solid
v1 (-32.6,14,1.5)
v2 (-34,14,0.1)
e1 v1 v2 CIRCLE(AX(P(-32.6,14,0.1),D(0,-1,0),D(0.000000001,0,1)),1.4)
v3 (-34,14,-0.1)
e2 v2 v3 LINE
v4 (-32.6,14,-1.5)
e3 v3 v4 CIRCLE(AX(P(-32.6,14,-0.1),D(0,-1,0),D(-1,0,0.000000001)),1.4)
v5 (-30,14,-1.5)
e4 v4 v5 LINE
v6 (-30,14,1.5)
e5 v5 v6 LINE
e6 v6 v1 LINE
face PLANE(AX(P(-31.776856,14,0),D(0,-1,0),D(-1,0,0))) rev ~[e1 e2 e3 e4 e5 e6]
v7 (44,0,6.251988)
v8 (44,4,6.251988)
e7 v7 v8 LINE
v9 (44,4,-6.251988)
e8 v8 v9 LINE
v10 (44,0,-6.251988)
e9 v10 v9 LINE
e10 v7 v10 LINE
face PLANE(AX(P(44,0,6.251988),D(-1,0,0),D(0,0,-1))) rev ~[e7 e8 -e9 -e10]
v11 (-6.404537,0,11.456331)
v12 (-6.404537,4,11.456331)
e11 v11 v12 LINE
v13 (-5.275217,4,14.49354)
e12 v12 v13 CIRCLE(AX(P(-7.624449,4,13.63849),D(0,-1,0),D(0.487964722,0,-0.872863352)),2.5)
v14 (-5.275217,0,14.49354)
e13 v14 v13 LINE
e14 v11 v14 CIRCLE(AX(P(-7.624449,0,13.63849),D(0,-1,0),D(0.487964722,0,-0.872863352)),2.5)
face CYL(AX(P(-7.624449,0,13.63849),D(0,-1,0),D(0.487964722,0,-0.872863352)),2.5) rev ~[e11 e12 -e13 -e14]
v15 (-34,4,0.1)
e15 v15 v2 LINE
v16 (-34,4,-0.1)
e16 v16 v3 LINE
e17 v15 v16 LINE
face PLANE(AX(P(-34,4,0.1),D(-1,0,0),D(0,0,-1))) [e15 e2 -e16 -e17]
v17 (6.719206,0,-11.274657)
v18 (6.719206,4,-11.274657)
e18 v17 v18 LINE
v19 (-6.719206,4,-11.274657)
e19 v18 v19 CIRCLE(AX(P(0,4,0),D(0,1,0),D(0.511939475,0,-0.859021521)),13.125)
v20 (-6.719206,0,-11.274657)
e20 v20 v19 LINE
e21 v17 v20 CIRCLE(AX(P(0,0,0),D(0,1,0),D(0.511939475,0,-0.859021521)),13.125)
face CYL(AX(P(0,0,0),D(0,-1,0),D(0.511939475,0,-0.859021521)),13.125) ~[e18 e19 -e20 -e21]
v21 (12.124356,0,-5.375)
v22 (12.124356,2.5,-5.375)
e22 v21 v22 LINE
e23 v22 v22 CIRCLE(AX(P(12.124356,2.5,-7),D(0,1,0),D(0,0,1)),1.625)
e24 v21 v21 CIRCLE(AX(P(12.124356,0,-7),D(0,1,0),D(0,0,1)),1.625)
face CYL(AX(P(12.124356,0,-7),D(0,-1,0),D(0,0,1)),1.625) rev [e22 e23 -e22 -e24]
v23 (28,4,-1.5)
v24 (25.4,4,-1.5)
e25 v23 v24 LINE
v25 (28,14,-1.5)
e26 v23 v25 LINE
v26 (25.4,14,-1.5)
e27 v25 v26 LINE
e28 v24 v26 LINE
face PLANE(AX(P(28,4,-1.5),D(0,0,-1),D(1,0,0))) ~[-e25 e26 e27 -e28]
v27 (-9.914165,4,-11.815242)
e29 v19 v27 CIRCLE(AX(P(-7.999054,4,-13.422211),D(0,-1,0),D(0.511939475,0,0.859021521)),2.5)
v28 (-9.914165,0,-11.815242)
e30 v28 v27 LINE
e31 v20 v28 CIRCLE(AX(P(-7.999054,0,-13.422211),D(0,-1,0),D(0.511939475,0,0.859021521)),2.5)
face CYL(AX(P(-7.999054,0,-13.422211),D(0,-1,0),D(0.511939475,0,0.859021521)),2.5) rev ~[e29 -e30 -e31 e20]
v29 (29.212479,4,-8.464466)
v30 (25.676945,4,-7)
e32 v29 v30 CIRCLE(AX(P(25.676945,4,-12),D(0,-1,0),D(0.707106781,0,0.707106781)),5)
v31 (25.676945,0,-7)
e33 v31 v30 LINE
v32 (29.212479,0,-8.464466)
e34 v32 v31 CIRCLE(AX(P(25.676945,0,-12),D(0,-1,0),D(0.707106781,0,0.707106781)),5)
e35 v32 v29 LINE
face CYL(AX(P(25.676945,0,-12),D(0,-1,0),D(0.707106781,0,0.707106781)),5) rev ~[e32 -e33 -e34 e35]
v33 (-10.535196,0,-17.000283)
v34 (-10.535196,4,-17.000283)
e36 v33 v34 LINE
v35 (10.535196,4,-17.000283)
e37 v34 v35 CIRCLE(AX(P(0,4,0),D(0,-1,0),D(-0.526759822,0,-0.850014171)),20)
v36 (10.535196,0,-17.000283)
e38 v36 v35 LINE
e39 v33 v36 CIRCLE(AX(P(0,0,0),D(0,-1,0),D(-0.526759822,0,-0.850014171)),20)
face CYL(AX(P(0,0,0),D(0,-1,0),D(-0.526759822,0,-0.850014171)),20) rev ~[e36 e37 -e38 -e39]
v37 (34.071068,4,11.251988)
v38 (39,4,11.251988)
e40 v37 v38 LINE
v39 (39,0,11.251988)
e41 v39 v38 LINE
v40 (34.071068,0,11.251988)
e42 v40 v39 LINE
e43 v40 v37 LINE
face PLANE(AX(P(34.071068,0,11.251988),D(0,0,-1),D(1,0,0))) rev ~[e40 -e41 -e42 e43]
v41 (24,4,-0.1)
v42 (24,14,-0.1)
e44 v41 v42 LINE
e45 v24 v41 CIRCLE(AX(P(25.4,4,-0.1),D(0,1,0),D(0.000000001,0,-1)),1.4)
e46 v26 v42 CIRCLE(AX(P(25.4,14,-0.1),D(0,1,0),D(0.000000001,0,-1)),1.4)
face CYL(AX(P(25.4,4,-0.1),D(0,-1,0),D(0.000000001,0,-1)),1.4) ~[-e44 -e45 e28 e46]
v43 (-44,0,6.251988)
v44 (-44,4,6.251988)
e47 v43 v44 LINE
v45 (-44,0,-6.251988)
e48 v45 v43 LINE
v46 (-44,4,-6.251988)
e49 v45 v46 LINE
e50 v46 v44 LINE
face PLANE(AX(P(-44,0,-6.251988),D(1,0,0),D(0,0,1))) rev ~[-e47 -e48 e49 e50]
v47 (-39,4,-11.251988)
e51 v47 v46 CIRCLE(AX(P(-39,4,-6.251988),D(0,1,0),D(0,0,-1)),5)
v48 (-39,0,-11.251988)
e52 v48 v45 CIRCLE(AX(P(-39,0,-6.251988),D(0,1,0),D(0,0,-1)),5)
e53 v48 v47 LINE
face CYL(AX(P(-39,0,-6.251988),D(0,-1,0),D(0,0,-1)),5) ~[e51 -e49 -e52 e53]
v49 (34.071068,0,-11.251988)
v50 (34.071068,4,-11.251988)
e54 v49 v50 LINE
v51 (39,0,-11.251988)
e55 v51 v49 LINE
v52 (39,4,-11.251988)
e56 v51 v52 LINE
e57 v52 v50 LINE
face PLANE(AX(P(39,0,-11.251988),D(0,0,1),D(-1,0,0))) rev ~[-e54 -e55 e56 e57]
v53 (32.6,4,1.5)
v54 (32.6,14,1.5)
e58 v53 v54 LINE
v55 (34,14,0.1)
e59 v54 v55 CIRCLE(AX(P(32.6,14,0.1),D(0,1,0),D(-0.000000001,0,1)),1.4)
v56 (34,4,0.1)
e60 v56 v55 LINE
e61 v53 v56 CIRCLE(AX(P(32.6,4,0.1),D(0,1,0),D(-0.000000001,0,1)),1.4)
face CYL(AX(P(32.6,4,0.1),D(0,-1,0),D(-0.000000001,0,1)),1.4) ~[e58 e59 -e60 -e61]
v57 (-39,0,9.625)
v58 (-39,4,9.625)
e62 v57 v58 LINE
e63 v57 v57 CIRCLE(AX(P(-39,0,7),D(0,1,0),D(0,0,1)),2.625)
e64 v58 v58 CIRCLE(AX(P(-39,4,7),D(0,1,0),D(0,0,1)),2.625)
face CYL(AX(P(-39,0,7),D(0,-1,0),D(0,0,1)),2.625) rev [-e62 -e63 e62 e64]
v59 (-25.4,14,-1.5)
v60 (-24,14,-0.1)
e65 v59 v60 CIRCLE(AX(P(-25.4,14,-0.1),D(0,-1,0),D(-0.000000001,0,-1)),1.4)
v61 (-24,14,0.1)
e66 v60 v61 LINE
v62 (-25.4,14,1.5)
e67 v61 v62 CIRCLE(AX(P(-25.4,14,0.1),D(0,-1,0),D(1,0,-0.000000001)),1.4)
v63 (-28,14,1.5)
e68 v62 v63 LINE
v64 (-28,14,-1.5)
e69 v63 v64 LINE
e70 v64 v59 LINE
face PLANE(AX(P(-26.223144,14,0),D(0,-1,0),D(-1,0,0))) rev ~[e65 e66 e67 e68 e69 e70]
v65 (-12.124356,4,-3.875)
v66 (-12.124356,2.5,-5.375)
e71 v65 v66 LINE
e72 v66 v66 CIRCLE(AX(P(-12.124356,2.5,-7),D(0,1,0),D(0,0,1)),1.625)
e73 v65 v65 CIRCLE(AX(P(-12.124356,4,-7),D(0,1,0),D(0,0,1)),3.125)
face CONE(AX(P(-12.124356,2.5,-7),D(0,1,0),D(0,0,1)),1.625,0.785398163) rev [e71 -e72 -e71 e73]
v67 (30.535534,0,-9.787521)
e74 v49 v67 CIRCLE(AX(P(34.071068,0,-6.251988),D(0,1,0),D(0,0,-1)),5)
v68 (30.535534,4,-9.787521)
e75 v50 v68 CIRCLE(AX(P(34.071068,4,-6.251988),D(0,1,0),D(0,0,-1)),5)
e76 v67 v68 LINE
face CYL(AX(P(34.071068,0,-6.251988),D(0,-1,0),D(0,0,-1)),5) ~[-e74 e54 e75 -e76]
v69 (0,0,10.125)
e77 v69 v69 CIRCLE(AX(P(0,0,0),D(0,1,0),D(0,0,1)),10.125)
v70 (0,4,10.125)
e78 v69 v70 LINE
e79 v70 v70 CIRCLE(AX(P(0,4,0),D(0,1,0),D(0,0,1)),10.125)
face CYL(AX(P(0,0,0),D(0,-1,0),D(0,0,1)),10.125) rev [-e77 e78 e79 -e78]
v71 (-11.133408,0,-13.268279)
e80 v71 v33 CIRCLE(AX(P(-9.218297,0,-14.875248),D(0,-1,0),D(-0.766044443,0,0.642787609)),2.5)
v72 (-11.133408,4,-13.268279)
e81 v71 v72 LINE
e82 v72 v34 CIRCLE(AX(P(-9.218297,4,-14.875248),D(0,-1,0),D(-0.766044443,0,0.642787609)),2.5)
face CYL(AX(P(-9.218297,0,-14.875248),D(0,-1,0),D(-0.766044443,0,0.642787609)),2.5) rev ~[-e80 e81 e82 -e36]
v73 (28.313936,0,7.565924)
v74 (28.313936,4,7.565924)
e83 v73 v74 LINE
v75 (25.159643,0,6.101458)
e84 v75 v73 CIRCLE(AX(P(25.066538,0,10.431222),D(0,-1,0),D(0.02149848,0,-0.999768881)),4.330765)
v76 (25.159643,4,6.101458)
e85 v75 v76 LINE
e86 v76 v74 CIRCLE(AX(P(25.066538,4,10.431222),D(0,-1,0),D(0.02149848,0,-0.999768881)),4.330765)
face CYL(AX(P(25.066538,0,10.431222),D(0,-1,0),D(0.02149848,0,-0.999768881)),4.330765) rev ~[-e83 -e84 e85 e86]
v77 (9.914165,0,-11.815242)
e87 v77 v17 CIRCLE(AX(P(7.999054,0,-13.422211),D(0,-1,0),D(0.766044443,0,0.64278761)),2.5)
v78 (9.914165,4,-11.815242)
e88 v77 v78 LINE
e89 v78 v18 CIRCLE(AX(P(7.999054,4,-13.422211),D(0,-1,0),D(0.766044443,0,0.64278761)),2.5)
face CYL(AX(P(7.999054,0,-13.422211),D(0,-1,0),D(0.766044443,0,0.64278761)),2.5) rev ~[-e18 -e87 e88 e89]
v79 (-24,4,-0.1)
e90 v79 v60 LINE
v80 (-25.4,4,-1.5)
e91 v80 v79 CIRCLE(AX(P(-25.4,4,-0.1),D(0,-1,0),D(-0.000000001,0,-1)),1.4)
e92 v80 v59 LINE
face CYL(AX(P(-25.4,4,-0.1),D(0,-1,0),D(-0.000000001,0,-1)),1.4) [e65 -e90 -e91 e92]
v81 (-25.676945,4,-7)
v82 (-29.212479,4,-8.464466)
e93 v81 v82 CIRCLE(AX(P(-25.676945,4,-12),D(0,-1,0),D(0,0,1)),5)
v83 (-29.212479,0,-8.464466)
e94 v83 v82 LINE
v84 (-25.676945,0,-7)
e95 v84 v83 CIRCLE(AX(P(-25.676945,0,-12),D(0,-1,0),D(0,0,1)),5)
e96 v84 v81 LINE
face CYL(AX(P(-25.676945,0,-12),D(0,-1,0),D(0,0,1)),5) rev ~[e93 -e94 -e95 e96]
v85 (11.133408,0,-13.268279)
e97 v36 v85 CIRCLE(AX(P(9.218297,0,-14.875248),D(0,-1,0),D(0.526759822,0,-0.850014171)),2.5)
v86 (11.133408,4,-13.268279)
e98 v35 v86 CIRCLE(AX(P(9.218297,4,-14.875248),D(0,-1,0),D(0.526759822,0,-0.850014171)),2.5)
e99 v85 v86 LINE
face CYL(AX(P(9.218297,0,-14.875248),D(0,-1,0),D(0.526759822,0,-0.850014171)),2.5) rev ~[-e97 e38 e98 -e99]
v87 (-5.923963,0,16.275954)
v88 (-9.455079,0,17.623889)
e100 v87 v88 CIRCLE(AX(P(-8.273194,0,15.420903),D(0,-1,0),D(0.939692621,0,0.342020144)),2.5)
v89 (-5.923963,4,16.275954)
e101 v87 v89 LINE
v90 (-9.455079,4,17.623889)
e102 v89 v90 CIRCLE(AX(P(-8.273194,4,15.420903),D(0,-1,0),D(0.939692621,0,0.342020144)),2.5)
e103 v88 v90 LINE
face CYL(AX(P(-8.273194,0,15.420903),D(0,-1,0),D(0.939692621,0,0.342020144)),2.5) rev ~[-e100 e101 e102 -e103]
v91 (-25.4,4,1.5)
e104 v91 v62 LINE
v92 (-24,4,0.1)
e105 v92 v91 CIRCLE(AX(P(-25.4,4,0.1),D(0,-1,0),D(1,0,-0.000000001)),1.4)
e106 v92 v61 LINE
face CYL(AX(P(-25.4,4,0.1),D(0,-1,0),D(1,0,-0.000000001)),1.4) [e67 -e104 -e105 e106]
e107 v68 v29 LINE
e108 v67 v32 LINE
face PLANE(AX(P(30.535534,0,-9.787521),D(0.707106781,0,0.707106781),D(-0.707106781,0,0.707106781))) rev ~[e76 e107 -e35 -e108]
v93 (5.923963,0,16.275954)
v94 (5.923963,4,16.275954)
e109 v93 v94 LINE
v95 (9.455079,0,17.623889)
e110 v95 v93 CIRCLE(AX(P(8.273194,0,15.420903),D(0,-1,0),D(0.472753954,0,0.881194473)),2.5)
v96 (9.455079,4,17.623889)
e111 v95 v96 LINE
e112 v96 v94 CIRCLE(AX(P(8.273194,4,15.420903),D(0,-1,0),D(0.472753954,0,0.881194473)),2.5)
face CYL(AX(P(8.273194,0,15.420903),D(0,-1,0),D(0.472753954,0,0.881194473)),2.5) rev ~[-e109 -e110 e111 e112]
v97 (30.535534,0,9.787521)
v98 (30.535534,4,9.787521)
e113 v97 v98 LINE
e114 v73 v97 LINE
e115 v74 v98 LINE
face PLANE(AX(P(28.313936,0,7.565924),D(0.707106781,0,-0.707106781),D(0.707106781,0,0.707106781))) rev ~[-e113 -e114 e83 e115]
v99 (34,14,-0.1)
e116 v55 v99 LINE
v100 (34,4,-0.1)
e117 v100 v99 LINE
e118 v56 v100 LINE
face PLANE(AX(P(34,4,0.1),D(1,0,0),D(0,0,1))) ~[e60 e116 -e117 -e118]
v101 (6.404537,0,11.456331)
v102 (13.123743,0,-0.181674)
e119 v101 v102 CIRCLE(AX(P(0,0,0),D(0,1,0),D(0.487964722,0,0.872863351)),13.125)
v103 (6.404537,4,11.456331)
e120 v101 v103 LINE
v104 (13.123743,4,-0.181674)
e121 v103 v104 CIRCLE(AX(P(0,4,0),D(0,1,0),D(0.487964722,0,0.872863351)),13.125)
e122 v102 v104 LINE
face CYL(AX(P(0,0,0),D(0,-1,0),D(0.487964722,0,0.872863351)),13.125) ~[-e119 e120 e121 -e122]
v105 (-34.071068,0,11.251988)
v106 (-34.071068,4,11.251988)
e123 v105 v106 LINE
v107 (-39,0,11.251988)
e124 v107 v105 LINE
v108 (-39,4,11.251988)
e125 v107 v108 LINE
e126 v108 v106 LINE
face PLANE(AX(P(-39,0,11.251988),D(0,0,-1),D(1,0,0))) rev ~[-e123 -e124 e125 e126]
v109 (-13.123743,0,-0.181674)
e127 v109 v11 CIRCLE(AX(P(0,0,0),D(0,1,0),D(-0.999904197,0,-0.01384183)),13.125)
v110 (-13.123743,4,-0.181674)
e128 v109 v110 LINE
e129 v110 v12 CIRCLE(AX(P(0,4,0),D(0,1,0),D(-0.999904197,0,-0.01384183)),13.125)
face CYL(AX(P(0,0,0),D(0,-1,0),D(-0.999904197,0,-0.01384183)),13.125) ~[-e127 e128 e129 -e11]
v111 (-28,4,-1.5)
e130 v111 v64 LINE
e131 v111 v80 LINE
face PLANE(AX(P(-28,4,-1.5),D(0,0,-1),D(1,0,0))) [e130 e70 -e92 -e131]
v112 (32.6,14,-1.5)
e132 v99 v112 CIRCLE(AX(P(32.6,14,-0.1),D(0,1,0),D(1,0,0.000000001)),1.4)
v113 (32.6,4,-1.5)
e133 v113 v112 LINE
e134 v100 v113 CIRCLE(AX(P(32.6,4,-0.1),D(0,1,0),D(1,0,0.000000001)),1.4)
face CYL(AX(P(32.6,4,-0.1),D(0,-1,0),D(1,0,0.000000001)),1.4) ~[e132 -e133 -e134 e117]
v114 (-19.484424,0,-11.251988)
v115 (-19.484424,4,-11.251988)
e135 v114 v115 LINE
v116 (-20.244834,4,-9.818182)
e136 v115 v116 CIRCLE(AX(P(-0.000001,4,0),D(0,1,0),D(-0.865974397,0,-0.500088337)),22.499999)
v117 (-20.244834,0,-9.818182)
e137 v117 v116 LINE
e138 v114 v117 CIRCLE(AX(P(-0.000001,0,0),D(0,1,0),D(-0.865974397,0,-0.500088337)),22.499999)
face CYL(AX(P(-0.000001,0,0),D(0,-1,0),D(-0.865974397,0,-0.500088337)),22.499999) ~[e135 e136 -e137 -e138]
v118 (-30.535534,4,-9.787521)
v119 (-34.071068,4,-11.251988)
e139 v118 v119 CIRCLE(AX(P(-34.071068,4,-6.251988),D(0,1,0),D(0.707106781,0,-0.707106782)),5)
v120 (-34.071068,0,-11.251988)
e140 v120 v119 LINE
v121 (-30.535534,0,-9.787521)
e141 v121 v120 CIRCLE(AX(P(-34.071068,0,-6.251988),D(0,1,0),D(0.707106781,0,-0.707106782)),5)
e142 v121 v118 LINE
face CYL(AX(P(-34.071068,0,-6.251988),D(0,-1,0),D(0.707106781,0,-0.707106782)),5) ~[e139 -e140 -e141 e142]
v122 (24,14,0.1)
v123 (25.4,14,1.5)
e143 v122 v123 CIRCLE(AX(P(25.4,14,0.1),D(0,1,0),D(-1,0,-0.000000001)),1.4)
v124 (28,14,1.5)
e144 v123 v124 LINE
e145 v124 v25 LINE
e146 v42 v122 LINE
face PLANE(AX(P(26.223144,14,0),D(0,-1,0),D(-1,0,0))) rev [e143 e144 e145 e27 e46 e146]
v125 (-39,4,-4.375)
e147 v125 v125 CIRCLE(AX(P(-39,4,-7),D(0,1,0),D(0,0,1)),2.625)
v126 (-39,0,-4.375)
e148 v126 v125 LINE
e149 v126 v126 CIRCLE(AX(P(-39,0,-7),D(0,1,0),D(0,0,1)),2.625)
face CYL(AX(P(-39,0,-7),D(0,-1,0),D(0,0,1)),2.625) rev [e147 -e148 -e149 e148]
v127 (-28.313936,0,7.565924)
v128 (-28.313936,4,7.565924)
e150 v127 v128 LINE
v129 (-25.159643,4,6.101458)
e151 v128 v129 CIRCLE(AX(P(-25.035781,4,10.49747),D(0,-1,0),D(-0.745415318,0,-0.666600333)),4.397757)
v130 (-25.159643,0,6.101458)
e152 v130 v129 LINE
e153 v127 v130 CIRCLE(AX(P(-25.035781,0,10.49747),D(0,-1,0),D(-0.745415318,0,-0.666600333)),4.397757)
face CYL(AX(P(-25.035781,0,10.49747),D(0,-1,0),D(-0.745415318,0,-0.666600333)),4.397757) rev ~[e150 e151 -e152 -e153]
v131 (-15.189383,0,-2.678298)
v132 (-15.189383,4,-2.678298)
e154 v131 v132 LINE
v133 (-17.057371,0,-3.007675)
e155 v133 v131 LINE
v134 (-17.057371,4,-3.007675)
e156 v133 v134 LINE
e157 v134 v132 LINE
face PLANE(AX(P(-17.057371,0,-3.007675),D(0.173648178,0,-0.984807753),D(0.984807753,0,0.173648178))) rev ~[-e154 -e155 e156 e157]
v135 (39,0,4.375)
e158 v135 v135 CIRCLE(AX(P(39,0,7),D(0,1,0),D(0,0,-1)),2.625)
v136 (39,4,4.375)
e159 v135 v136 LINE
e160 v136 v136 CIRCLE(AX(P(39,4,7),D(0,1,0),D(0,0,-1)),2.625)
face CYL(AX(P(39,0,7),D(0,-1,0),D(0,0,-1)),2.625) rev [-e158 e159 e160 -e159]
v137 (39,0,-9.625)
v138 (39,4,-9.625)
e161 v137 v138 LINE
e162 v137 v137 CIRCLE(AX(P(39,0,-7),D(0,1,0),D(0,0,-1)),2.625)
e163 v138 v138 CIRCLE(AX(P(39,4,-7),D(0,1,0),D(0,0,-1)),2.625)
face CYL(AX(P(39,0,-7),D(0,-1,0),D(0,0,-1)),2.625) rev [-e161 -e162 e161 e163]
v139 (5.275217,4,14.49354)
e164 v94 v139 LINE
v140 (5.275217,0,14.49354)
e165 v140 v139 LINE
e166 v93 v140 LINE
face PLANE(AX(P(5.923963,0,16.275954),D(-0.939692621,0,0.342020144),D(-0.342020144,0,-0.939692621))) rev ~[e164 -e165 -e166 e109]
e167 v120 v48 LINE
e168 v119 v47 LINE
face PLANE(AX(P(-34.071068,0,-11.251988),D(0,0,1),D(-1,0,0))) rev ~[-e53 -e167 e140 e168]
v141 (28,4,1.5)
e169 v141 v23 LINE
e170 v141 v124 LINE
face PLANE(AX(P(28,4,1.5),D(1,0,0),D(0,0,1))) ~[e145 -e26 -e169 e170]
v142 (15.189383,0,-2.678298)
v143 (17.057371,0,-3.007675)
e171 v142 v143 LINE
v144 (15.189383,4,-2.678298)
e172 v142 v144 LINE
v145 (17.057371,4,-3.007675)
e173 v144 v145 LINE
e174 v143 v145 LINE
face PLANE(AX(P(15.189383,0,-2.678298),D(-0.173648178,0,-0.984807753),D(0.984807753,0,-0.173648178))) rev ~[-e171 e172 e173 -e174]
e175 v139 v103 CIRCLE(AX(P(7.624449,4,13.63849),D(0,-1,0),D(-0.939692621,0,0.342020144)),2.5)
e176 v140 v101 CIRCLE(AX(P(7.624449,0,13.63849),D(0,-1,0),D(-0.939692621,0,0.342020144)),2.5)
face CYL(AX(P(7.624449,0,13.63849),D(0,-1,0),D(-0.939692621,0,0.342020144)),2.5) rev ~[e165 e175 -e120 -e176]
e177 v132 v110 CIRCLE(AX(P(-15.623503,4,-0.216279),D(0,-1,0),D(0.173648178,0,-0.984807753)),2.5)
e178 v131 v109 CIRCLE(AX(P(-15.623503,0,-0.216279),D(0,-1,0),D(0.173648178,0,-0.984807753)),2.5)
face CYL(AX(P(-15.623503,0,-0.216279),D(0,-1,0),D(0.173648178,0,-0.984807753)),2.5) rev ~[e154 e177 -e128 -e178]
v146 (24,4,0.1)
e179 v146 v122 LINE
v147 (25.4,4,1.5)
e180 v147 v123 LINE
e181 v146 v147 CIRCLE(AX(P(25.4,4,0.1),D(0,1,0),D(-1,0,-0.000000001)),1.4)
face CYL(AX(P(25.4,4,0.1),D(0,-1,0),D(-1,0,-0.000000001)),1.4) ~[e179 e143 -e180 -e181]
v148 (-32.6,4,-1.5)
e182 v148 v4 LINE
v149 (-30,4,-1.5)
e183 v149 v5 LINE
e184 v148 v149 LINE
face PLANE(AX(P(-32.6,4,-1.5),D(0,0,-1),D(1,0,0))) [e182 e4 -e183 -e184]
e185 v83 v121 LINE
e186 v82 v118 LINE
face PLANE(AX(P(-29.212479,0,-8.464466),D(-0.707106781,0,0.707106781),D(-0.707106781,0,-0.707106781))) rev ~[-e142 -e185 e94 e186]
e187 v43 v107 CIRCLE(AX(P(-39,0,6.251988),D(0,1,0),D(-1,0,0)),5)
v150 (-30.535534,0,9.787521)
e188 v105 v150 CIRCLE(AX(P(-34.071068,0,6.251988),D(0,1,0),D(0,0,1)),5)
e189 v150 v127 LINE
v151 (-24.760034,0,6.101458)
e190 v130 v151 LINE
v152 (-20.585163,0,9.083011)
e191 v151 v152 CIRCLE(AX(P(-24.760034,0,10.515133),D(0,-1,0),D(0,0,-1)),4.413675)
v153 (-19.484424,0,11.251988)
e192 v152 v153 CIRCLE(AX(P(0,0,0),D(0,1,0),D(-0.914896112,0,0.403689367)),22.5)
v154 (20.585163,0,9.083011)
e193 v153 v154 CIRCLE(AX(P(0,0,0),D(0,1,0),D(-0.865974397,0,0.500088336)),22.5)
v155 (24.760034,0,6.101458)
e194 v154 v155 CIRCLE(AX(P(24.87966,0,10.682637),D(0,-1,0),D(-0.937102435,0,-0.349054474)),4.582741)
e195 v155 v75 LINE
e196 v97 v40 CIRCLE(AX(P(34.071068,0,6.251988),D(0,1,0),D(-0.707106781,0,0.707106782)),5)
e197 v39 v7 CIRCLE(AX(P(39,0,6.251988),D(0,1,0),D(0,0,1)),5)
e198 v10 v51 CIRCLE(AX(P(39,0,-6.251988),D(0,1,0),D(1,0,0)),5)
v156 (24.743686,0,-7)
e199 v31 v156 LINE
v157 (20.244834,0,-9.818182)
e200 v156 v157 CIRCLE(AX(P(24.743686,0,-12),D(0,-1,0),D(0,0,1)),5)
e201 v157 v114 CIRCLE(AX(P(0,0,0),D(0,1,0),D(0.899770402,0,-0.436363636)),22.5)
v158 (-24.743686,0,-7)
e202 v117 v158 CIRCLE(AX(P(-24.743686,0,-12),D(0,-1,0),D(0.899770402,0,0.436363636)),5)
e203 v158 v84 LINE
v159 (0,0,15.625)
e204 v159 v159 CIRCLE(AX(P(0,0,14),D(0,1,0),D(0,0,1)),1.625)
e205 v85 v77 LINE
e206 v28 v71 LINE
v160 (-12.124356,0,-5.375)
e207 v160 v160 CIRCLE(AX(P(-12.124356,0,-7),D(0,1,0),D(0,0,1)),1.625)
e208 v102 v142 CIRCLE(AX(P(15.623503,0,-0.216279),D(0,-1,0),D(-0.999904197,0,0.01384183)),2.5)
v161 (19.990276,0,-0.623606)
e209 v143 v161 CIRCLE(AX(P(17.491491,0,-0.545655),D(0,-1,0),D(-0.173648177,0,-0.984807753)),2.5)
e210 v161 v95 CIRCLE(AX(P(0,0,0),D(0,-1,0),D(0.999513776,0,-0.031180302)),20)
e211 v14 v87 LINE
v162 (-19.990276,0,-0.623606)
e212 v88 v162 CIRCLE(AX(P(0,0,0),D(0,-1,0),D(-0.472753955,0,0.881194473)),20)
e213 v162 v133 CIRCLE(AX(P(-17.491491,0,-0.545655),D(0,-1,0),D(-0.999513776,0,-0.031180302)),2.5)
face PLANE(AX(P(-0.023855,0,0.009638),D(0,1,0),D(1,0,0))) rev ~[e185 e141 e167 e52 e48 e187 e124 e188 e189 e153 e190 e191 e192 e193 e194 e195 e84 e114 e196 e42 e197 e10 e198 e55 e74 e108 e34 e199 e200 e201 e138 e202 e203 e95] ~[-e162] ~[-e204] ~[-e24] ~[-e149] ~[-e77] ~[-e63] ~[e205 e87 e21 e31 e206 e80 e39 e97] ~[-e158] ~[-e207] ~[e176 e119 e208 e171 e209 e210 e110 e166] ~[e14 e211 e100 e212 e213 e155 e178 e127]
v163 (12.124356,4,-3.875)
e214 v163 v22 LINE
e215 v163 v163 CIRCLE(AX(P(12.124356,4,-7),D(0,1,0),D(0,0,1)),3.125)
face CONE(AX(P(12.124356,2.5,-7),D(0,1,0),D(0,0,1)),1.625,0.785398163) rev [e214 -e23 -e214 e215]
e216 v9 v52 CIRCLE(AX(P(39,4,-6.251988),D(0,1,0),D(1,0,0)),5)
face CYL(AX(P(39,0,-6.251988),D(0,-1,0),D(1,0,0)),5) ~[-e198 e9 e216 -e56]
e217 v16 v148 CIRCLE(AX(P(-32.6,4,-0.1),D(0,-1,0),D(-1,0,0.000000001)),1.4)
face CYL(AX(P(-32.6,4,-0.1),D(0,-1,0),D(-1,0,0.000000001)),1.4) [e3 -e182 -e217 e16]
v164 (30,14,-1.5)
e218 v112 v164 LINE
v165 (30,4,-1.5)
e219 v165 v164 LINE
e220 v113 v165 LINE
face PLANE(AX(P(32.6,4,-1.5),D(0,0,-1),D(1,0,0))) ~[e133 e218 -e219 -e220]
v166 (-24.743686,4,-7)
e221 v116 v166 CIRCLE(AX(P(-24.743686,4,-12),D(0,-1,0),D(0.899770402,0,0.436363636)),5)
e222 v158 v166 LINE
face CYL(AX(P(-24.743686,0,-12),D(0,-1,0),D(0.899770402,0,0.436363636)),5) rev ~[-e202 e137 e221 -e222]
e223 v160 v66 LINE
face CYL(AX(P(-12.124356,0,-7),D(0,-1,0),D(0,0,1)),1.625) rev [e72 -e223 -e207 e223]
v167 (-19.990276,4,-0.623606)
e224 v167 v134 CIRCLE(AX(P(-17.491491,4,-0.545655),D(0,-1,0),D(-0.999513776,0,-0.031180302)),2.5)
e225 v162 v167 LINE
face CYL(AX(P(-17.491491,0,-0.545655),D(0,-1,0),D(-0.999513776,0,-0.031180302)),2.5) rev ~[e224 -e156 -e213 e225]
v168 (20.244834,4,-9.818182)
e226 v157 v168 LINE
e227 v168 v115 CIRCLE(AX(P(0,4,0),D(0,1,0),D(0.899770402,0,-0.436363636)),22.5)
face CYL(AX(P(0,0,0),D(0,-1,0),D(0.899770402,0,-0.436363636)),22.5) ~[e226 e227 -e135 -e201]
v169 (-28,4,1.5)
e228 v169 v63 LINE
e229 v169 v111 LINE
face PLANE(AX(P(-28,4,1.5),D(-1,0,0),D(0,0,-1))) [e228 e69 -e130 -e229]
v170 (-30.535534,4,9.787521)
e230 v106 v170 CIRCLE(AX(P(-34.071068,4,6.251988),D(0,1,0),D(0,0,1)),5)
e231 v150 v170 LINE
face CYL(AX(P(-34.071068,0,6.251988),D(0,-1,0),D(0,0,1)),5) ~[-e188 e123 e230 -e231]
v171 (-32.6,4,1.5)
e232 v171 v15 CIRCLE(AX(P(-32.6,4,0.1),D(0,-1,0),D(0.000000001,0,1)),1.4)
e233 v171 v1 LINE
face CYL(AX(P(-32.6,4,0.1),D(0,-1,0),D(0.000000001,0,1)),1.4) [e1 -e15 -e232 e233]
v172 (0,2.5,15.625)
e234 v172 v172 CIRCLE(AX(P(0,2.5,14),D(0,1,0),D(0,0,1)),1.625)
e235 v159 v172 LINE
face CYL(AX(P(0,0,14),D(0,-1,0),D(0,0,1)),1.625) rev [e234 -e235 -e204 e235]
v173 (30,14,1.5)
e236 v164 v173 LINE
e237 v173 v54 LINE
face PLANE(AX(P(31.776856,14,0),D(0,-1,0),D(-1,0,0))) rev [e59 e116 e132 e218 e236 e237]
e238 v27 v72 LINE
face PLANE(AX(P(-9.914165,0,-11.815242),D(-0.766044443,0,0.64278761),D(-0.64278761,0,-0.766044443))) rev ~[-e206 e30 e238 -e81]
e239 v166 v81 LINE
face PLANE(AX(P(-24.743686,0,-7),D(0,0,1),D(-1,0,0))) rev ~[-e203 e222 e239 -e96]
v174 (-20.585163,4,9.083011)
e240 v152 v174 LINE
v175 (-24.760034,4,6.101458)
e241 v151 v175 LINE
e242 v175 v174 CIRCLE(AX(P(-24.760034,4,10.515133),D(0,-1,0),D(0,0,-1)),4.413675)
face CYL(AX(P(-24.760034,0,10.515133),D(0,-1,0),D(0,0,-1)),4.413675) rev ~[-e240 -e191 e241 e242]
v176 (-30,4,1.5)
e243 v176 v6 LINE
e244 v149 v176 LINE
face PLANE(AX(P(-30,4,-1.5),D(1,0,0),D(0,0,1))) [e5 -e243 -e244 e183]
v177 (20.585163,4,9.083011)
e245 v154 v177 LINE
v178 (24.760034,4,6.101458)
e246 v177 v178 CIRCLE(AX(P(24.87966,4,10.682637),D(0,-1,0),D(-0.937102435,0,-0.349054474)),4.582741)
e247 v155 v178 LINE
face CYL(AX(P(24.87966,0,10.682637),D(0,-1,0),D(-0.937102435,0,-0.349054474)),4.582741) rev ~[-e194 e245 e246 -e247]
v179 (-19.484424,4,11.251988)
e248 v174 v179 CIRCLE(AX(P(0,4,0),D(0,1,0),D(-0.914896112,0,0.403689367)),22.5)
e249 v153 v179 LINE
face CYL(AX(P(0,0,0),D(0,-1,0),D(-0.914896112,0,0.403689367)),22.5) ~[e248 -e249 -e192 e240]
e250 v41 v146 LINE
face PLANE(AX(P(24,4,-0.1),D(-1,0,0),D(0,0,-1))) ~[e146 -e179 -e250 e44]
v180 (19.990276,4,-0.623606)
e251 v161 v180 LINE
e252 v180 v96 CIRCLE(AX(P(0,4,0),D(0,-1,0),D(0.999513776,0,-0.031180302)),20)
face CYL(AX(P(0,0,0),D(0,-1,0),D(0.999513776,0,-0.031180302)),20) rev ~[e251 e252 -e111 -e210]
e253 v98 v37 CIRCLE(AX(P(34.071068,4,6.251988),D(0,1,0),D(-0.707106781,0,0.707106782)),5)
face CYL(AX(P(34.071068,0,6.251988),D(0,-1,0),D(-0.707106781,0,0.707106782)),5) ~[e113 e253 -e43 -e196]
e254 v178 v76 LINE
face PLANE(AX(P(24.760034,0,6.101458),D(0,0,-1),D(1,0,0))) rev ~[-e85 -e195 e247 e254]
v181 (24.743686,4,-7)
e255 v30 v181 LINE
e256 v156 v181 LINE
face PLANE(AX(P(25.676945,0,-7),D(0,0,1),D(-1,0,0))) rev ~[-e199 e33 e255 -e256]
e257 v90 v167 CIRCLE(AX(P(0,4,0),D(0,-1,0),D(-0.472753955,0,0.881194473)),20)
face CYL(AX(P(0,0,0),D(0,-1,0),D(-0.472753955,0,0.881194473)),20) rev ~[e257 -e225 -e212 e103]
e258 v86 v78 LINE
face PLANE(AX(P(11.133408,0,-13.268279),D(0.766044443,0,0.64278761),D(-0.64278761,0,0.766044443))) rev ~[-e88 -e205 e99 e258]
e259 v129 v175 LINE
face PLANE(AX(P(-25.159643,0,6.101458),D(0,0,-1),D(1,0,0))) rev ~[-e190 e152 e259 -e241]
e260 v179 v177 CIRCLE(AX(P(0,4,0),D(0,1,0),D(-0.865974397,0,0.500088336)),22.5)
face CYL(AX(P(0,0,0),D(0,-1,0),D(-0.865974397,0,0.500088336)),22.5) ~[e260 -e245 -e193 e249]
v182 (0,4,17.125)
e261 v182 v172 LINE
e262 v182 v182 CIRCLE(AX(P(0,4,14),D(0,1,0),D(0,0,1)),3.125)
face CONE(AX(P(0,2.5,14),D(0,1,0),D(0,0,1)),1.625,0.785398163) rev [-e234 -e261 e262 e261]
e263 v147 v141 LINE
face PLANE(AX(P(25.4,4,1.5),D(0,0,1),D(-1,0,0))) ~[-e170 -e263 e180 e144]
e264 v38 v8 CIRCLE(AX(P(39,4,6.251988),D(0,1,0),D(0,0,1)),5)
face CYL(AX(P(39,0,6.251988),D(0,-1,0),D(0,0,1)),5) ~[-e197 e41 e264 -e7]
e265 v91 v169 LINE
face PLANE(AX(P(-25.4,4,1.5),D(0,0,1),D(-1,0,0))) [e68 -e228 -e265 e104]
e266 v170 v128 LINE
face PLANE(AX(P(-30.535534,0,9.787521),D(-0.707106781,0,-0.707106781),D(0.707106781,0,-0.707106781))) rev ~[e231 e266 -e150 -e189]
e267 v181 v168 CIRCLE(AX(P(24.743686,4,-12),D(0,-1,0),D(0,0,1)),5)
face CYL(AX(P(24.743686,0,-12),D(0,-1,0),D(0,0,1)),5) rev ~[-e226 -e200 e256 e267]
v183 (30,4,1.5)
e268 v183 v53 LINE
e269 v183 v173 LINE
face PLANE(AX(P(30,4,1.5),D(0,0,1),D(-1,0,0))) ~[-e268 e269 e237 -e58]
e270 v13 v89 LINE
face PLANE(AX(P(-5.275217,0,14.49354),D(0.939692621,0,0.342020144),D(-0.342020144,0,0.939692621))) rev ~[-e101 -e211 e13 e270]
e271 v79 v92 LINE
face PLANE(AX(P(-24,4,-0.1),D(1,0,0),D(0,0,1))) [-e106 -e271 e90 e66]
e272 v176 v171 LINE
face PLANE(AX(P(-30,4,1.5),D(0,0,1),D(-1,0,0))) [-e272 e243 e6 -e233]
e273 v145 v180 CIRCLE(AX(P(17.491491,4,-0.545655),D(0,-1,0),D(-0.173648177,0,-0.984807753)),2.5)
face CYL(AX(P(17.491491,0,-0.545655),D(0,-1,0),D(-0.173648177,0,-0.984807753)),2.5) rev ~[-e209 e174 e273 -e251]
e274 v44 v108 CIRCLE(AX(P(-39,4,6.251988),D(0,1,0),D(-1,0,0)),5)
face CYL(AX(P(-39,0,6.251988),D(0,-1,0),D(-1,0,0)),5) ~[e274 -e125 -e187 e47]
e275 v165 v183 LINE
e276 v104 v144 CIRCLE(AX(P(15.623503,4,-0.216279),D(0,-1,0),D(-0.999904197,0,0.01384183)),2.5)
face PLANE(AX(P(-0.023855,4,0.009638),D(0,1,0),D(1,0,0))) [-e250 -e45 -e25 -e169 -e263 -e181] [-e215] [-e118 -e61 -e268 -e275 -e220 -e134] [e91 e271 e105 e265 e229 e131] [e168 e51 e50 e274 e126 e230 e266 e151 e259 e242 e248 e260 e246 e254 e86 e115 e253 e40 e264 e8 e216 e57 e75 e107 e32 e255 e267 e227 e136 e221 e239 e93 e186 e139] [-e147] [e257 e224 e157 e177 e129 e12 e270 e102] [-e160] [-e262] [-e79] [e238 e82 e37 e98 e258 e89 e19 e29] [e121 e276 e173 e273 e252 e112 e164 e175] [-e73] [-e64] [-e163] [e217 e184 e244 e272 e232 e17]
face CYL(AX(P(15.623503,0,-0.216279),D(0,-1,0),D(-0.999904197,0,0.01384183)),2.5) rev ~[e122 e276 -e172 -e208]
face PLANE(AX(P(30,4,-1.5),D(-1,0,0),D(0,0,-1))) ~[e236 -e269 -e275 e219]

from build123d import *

# Parameters (mm, degrees)
SKETCH1_R           = 10.125
SKETCH1_R_2         = 1.625
SKETCH1_R_3         = 2.625
BOSS_EXTRUDE1_DEPTH = 4
BOSS_EXTRUDE2_DEPTH = 10
CHAMFER1_SIZE       = 1.5


with BuildPart() as part:
    # Sketch1 → Boss-Extrude1 (new body)
    with BuildSketch(Plane(origin=(0, 0, 0), x_dir=(1, 0, 0), z_dir=(0, 1, 0))):
        with BuildLine():
            Line((-34.071067812, 11.251987552), (-39, 11.251987552))
            ThreePointArc((-39, 11.251987552), (-42.535533906, 9.787521458), (-44, 6.251987552))
            Line((-44, 6.251987552), (-44, -6.251987552))
            ThreePointArc((-44, -6.251987552), (-42.535533906, -9.787521458), (-39, -11.251987552))
            Line((-39, -11.251987552), (-34.071067812, -11.251987552))
            ThreePointArc((-34.071067812, -11.251987552), (-32.15765065, -10.871385214), (-30.535533906, -9.787521458))
            Line((-30.535533906, -9.787521458), (-28.313936139, -7.565923691))
            ThreePointArc((-28.313936139, -7.565923691), (-26.887697685, -6.508651832), (-25.159643066, -6.101457597))
            Line((-25.159643066, -6.101457597), (-24.760034307, -6.101457597))
            ThreePointArc((-24.760034307, -6.101457597), (-22.194921551, -6.923374854), (-20.585162509, -9.083010761))
            ThreePointArc((-20.585162509, -9.083010761), (-20.064123568, -10.182384075), (-19.484423936, -11.251987552))
            ThreePointArc((-19.484423936, -11.251987552), (1.21615025, -22.467108816), (20.585162509, -9.083010761))
            ThreePointArc((20.585162509, -9.083010761), (22.216290811, -6.953296816), (24.760034307, -6.101457597))
            Line((24.760034307, -6.101457597), (25.159643066, -6.101457597))
            ThreePointArc((25.159643066, -6.101457597), (26.890244586, -6.503166098), (28.313936139, -7.565923691))
            Line((28.313936139, -7.565923691), (30.535533906, -9.787521458))
            ThreePointArc((30.535533906, -9.787521458), (32.15765065, -10.871385214), (34.071067812, -11.251987552))
            Line((34.071067812, -11.251987552), (39, -11.251987552))
            ThreePointArc((39, -11.251987552), (42.535533906, -9.787521458), (44, -6.251987552))
            Line((44, -6.251987552), (44, 6.251987552))
            ThreePointArc((44, 6.251987552), (42.535533906, 9.787521458), (39, 11.251987552))
            Line((39, 11.251987552), (34.071067812, 11.251987552))
            ThreePointArc((34.071067812, 11.251987552), (32.15765065, 10.871385214), (30.535533906, 9.787521458))
            Line((30.535533906, 9.787521458), (29.212478542, 8.464466094))
            ThreePointArc((29.212478542, 8.464466094), (27.590361798, 7.380602337), (25.676944636, 7))
            Line((25.676944636, 7), (24.743686063, 7))
            ThreePointArc((24.743686063, 7), (22.08935855, 7.762719569), (20.244834052, 9.818181818))
            ThreePointArc((20.244834052, 9.818181818), (0.811483584, 22.48536178), (-19.484423936, 11.251987552))
            ThreePointArc((-19.484423936, 11.251987552), (-19.877561088, 10.541943142), (-20.244834052, 9.818181818))
            ThreePointArc((-20.244834052, 9.818181818), (-22.08935855, 7.762719569), (-24.743686063, 7))
            Line((-24.743686063, 7), (-25.676944636, 7))
            ThreePointArc((-25.676944636, 7), (-27.590361798, 7.380602337), (-29.212478542, 8.464466094))
            Line((-29.212478542, 8.464466094), (-30.535533906, 9.787521458))
            ThreePointArc((-30.535533906, 9.787521458), (-32.15765065, 10.871385214), (-34.071067812, 11.251987552))
        make_face()
        with Locations(Location((0, 0, 0), (0, 0, 270))):
            Circle(SKETCH1_R, mode=Mode.SUBTRACT)
        with Locations(Location((-12.124355653, 7, 0), (0, 0, 270))):
            Circle(SKETCH1_R_2, mode=Mode.SUBTRACT)
        with Locations(Location((12.124355653, 7, 0), (0, 0, 270))):
            Circle(SKETCH1_R_2, mode=Mode.SUBTRACT)
        with Locations(Location((0, -14, 0), (0, 0, 270))):
            Circle(SKETCH1_R_2, mode=Mode.SUBTRACT)
        with Locations(Location((-39, 7, 0), (0, 0, 270))):
            Circle(SKETCH1_R_3, mode=Mode.SUBTRACT)
        with Locations(Location((-39, -7, 0), (0, 0, 270))):
            Circle(SKETCH1_R_3, mode=Mode.SUBTRACT)
        with Locations(Location((39, -7, 0), (0, 0, 90))):
            Circle(SKETCH1_R_3, mode=Mode.SUBTRACT)
        with Locations(Location((39, 7, 0), (0, 0, 90))):
            Circle(SKETCH1_R_3, mode=Mode.SUBTRACT)
        with BuildLine():
            Line((-5.27521723, -14.493540222), (-5.923962655, -16.275953627))
            ThreePointArc((-5.923962655, -16.275953627), (-7.381618464, -17.756517255), (-9.455079093, -17.62388945))
            ThreePointArc((-9.455079093, -17.62388945), (-17.320508076, -10), (-19.990275524, 0.623606036))
            ThreePointArc((-19.990275524, 0.623606036), (-19.068404258, 2.485589517), (-17.057370639, 3.007674664))
            Line((-17.057370639, 3.007674664), (-15.189382638, 2.678297979))
            ThreePointArc((-15.189382638, 2.678297979), (-13.697315881, 1.809954494), (-13.123742589, 0.181674021))
            ThreePointArc((-13.123742589, 0.181674021), (-11.366583425, -6.5625), (-6.404536977, -11.456331486))
            ThreePointArc((-6.404536977, -11.456331486), (-5.281191369, -12.767200763), (-5.27521723, -14.493540222))
        make_face(mode=Mode.SUBTRACT)
        with BuildLine():
            Line((-9.914165408, 11.815242243), (-11.133407985, 13.268278963))
            ThreePointArc((-11.133407985, 13.268278963), (-11.686785794, 15.270927738), (-10.535196431, 17.000283414))
            ThreePointArc((-10.535196431, 17.000283414), (0, 20), (10.535196431, 17.000283414))
            ThreePointArc((10.535196431, 17.000283414), (11.686785794, 15.270927738), (11.133407985, 13.268278963))
            Line((11.133407985, 13.268278963), (9.914165408, 11.815242243))
            ThreePointArc((9.914165408, 11.815242243), (8.416124512, 10.95724627), (6.719205612, 11.274657464))
            ThreePointArc((6.719205612, 11.274657464), (0, 13.125), (-6.719205612, 11.274657464))
            ThreePointArc((-6.719205612, 11.274657464), (-8.416124512, 10.95724627), (-9.914165408, 11.815242243))
        make_face(mode=Mode.SUBTRACT)
        with BuildLine():
            Line((15.189382638, 2.678297979), (17.057370639, 3.007674664))
            ThreePointArc((17.057370639, 3.007674664), (19.068404258, 2.485589517), (19.990275524, 0.623606036))
            ThreePointArc((19.990275524, 0.623606036), (17.320508076, -10), (9.455079093, -17.62388945))
            ThreePointArc((9.455079093, -17.62388945), (7.381618464, -17.756517255), (5.923962655, -16.275953627))
            Line((5.923962655, -16.275953627), (5.27521723, -14.493540222))
            ThreePointArc((5.27521723, -14.493540222), (5.281191369, -12.767200763), (6.404536977, -11.456331486))
            ThreePointArc((6.404536977, -11.456331486), (11.366583425, -6.5625), (13.123742589, 0.181674021))
            ThreePointArc((13.123742589, 0.181674021), (13.697315881, 1.809954494), (15.189382638, 2.678297979))
        make_face(mode=Mode.SUBTRACT)
    extrude(amount=BOSS_EXTRUDE1_DEPTH)

    # Sketch2 → Boss-Extrude2 (add)
    with BuildSketch(Plane(origin=(0, 4, 0), x_dir=(1, 0, 0), z_dir=(0, 1, 0))):
        with BuildLine():
            Line((-32.6, 1.5), (-30, 1.5))
            Line((-30, 1.5), (-30, -1.5))
            Line((-30, -1.5), (-32.6, -1.5))
            ThreePointArc((-32.6, -1.5), (-33.589949494, -1.089949494), (-34, -0.1))
            Line((-34, -0.1), (-34, 0.1))
            ThreePointArc((-34, 0.1), (-33.589949494, 1.089949494), (-32.6, 1.5))
        make_face()
        with BuildLine():
            Line((-28, 1.5), (-25.4, 1.5))
            ThreePointArc((-25.4, 1.5), (-24.410050506, 1.089949494), (-24, 0.1))
            Line((-24, 0.1), (-24, -0.1))
            ThreePointArc((-24, -0.1), (-24.410050506, -1.089949494), (-25.4, -1.5))
            Line((-25.4, -1.5), (-28, -1.5))
            Line((-28, -1.5), (-28, 1.5))
        make_face()
    boss_extrude2 = extrude(amount=BOSS_EXTRUDE2_DEPTH)

    # Mirror1: Boss-Extrude2 across plane
    add(boss_extrude2.mirror(Plane(origin=(0, 0, 0), x_dir=(0, 0, 1), z_dir=(1, 0, 0))))

    # Chamfer1
    chamfer1_edges = [part.edges().sort_by_distance(p)[0] for p in [
        (-12.124355653, 4, -8.625),
        (12.124355653, 4, -8.625),
        (0, 4, 12.375),
    ]]
    chamfer(chamfer1_edges, length=CHAMFER1_SIZE)


solid = part.part
